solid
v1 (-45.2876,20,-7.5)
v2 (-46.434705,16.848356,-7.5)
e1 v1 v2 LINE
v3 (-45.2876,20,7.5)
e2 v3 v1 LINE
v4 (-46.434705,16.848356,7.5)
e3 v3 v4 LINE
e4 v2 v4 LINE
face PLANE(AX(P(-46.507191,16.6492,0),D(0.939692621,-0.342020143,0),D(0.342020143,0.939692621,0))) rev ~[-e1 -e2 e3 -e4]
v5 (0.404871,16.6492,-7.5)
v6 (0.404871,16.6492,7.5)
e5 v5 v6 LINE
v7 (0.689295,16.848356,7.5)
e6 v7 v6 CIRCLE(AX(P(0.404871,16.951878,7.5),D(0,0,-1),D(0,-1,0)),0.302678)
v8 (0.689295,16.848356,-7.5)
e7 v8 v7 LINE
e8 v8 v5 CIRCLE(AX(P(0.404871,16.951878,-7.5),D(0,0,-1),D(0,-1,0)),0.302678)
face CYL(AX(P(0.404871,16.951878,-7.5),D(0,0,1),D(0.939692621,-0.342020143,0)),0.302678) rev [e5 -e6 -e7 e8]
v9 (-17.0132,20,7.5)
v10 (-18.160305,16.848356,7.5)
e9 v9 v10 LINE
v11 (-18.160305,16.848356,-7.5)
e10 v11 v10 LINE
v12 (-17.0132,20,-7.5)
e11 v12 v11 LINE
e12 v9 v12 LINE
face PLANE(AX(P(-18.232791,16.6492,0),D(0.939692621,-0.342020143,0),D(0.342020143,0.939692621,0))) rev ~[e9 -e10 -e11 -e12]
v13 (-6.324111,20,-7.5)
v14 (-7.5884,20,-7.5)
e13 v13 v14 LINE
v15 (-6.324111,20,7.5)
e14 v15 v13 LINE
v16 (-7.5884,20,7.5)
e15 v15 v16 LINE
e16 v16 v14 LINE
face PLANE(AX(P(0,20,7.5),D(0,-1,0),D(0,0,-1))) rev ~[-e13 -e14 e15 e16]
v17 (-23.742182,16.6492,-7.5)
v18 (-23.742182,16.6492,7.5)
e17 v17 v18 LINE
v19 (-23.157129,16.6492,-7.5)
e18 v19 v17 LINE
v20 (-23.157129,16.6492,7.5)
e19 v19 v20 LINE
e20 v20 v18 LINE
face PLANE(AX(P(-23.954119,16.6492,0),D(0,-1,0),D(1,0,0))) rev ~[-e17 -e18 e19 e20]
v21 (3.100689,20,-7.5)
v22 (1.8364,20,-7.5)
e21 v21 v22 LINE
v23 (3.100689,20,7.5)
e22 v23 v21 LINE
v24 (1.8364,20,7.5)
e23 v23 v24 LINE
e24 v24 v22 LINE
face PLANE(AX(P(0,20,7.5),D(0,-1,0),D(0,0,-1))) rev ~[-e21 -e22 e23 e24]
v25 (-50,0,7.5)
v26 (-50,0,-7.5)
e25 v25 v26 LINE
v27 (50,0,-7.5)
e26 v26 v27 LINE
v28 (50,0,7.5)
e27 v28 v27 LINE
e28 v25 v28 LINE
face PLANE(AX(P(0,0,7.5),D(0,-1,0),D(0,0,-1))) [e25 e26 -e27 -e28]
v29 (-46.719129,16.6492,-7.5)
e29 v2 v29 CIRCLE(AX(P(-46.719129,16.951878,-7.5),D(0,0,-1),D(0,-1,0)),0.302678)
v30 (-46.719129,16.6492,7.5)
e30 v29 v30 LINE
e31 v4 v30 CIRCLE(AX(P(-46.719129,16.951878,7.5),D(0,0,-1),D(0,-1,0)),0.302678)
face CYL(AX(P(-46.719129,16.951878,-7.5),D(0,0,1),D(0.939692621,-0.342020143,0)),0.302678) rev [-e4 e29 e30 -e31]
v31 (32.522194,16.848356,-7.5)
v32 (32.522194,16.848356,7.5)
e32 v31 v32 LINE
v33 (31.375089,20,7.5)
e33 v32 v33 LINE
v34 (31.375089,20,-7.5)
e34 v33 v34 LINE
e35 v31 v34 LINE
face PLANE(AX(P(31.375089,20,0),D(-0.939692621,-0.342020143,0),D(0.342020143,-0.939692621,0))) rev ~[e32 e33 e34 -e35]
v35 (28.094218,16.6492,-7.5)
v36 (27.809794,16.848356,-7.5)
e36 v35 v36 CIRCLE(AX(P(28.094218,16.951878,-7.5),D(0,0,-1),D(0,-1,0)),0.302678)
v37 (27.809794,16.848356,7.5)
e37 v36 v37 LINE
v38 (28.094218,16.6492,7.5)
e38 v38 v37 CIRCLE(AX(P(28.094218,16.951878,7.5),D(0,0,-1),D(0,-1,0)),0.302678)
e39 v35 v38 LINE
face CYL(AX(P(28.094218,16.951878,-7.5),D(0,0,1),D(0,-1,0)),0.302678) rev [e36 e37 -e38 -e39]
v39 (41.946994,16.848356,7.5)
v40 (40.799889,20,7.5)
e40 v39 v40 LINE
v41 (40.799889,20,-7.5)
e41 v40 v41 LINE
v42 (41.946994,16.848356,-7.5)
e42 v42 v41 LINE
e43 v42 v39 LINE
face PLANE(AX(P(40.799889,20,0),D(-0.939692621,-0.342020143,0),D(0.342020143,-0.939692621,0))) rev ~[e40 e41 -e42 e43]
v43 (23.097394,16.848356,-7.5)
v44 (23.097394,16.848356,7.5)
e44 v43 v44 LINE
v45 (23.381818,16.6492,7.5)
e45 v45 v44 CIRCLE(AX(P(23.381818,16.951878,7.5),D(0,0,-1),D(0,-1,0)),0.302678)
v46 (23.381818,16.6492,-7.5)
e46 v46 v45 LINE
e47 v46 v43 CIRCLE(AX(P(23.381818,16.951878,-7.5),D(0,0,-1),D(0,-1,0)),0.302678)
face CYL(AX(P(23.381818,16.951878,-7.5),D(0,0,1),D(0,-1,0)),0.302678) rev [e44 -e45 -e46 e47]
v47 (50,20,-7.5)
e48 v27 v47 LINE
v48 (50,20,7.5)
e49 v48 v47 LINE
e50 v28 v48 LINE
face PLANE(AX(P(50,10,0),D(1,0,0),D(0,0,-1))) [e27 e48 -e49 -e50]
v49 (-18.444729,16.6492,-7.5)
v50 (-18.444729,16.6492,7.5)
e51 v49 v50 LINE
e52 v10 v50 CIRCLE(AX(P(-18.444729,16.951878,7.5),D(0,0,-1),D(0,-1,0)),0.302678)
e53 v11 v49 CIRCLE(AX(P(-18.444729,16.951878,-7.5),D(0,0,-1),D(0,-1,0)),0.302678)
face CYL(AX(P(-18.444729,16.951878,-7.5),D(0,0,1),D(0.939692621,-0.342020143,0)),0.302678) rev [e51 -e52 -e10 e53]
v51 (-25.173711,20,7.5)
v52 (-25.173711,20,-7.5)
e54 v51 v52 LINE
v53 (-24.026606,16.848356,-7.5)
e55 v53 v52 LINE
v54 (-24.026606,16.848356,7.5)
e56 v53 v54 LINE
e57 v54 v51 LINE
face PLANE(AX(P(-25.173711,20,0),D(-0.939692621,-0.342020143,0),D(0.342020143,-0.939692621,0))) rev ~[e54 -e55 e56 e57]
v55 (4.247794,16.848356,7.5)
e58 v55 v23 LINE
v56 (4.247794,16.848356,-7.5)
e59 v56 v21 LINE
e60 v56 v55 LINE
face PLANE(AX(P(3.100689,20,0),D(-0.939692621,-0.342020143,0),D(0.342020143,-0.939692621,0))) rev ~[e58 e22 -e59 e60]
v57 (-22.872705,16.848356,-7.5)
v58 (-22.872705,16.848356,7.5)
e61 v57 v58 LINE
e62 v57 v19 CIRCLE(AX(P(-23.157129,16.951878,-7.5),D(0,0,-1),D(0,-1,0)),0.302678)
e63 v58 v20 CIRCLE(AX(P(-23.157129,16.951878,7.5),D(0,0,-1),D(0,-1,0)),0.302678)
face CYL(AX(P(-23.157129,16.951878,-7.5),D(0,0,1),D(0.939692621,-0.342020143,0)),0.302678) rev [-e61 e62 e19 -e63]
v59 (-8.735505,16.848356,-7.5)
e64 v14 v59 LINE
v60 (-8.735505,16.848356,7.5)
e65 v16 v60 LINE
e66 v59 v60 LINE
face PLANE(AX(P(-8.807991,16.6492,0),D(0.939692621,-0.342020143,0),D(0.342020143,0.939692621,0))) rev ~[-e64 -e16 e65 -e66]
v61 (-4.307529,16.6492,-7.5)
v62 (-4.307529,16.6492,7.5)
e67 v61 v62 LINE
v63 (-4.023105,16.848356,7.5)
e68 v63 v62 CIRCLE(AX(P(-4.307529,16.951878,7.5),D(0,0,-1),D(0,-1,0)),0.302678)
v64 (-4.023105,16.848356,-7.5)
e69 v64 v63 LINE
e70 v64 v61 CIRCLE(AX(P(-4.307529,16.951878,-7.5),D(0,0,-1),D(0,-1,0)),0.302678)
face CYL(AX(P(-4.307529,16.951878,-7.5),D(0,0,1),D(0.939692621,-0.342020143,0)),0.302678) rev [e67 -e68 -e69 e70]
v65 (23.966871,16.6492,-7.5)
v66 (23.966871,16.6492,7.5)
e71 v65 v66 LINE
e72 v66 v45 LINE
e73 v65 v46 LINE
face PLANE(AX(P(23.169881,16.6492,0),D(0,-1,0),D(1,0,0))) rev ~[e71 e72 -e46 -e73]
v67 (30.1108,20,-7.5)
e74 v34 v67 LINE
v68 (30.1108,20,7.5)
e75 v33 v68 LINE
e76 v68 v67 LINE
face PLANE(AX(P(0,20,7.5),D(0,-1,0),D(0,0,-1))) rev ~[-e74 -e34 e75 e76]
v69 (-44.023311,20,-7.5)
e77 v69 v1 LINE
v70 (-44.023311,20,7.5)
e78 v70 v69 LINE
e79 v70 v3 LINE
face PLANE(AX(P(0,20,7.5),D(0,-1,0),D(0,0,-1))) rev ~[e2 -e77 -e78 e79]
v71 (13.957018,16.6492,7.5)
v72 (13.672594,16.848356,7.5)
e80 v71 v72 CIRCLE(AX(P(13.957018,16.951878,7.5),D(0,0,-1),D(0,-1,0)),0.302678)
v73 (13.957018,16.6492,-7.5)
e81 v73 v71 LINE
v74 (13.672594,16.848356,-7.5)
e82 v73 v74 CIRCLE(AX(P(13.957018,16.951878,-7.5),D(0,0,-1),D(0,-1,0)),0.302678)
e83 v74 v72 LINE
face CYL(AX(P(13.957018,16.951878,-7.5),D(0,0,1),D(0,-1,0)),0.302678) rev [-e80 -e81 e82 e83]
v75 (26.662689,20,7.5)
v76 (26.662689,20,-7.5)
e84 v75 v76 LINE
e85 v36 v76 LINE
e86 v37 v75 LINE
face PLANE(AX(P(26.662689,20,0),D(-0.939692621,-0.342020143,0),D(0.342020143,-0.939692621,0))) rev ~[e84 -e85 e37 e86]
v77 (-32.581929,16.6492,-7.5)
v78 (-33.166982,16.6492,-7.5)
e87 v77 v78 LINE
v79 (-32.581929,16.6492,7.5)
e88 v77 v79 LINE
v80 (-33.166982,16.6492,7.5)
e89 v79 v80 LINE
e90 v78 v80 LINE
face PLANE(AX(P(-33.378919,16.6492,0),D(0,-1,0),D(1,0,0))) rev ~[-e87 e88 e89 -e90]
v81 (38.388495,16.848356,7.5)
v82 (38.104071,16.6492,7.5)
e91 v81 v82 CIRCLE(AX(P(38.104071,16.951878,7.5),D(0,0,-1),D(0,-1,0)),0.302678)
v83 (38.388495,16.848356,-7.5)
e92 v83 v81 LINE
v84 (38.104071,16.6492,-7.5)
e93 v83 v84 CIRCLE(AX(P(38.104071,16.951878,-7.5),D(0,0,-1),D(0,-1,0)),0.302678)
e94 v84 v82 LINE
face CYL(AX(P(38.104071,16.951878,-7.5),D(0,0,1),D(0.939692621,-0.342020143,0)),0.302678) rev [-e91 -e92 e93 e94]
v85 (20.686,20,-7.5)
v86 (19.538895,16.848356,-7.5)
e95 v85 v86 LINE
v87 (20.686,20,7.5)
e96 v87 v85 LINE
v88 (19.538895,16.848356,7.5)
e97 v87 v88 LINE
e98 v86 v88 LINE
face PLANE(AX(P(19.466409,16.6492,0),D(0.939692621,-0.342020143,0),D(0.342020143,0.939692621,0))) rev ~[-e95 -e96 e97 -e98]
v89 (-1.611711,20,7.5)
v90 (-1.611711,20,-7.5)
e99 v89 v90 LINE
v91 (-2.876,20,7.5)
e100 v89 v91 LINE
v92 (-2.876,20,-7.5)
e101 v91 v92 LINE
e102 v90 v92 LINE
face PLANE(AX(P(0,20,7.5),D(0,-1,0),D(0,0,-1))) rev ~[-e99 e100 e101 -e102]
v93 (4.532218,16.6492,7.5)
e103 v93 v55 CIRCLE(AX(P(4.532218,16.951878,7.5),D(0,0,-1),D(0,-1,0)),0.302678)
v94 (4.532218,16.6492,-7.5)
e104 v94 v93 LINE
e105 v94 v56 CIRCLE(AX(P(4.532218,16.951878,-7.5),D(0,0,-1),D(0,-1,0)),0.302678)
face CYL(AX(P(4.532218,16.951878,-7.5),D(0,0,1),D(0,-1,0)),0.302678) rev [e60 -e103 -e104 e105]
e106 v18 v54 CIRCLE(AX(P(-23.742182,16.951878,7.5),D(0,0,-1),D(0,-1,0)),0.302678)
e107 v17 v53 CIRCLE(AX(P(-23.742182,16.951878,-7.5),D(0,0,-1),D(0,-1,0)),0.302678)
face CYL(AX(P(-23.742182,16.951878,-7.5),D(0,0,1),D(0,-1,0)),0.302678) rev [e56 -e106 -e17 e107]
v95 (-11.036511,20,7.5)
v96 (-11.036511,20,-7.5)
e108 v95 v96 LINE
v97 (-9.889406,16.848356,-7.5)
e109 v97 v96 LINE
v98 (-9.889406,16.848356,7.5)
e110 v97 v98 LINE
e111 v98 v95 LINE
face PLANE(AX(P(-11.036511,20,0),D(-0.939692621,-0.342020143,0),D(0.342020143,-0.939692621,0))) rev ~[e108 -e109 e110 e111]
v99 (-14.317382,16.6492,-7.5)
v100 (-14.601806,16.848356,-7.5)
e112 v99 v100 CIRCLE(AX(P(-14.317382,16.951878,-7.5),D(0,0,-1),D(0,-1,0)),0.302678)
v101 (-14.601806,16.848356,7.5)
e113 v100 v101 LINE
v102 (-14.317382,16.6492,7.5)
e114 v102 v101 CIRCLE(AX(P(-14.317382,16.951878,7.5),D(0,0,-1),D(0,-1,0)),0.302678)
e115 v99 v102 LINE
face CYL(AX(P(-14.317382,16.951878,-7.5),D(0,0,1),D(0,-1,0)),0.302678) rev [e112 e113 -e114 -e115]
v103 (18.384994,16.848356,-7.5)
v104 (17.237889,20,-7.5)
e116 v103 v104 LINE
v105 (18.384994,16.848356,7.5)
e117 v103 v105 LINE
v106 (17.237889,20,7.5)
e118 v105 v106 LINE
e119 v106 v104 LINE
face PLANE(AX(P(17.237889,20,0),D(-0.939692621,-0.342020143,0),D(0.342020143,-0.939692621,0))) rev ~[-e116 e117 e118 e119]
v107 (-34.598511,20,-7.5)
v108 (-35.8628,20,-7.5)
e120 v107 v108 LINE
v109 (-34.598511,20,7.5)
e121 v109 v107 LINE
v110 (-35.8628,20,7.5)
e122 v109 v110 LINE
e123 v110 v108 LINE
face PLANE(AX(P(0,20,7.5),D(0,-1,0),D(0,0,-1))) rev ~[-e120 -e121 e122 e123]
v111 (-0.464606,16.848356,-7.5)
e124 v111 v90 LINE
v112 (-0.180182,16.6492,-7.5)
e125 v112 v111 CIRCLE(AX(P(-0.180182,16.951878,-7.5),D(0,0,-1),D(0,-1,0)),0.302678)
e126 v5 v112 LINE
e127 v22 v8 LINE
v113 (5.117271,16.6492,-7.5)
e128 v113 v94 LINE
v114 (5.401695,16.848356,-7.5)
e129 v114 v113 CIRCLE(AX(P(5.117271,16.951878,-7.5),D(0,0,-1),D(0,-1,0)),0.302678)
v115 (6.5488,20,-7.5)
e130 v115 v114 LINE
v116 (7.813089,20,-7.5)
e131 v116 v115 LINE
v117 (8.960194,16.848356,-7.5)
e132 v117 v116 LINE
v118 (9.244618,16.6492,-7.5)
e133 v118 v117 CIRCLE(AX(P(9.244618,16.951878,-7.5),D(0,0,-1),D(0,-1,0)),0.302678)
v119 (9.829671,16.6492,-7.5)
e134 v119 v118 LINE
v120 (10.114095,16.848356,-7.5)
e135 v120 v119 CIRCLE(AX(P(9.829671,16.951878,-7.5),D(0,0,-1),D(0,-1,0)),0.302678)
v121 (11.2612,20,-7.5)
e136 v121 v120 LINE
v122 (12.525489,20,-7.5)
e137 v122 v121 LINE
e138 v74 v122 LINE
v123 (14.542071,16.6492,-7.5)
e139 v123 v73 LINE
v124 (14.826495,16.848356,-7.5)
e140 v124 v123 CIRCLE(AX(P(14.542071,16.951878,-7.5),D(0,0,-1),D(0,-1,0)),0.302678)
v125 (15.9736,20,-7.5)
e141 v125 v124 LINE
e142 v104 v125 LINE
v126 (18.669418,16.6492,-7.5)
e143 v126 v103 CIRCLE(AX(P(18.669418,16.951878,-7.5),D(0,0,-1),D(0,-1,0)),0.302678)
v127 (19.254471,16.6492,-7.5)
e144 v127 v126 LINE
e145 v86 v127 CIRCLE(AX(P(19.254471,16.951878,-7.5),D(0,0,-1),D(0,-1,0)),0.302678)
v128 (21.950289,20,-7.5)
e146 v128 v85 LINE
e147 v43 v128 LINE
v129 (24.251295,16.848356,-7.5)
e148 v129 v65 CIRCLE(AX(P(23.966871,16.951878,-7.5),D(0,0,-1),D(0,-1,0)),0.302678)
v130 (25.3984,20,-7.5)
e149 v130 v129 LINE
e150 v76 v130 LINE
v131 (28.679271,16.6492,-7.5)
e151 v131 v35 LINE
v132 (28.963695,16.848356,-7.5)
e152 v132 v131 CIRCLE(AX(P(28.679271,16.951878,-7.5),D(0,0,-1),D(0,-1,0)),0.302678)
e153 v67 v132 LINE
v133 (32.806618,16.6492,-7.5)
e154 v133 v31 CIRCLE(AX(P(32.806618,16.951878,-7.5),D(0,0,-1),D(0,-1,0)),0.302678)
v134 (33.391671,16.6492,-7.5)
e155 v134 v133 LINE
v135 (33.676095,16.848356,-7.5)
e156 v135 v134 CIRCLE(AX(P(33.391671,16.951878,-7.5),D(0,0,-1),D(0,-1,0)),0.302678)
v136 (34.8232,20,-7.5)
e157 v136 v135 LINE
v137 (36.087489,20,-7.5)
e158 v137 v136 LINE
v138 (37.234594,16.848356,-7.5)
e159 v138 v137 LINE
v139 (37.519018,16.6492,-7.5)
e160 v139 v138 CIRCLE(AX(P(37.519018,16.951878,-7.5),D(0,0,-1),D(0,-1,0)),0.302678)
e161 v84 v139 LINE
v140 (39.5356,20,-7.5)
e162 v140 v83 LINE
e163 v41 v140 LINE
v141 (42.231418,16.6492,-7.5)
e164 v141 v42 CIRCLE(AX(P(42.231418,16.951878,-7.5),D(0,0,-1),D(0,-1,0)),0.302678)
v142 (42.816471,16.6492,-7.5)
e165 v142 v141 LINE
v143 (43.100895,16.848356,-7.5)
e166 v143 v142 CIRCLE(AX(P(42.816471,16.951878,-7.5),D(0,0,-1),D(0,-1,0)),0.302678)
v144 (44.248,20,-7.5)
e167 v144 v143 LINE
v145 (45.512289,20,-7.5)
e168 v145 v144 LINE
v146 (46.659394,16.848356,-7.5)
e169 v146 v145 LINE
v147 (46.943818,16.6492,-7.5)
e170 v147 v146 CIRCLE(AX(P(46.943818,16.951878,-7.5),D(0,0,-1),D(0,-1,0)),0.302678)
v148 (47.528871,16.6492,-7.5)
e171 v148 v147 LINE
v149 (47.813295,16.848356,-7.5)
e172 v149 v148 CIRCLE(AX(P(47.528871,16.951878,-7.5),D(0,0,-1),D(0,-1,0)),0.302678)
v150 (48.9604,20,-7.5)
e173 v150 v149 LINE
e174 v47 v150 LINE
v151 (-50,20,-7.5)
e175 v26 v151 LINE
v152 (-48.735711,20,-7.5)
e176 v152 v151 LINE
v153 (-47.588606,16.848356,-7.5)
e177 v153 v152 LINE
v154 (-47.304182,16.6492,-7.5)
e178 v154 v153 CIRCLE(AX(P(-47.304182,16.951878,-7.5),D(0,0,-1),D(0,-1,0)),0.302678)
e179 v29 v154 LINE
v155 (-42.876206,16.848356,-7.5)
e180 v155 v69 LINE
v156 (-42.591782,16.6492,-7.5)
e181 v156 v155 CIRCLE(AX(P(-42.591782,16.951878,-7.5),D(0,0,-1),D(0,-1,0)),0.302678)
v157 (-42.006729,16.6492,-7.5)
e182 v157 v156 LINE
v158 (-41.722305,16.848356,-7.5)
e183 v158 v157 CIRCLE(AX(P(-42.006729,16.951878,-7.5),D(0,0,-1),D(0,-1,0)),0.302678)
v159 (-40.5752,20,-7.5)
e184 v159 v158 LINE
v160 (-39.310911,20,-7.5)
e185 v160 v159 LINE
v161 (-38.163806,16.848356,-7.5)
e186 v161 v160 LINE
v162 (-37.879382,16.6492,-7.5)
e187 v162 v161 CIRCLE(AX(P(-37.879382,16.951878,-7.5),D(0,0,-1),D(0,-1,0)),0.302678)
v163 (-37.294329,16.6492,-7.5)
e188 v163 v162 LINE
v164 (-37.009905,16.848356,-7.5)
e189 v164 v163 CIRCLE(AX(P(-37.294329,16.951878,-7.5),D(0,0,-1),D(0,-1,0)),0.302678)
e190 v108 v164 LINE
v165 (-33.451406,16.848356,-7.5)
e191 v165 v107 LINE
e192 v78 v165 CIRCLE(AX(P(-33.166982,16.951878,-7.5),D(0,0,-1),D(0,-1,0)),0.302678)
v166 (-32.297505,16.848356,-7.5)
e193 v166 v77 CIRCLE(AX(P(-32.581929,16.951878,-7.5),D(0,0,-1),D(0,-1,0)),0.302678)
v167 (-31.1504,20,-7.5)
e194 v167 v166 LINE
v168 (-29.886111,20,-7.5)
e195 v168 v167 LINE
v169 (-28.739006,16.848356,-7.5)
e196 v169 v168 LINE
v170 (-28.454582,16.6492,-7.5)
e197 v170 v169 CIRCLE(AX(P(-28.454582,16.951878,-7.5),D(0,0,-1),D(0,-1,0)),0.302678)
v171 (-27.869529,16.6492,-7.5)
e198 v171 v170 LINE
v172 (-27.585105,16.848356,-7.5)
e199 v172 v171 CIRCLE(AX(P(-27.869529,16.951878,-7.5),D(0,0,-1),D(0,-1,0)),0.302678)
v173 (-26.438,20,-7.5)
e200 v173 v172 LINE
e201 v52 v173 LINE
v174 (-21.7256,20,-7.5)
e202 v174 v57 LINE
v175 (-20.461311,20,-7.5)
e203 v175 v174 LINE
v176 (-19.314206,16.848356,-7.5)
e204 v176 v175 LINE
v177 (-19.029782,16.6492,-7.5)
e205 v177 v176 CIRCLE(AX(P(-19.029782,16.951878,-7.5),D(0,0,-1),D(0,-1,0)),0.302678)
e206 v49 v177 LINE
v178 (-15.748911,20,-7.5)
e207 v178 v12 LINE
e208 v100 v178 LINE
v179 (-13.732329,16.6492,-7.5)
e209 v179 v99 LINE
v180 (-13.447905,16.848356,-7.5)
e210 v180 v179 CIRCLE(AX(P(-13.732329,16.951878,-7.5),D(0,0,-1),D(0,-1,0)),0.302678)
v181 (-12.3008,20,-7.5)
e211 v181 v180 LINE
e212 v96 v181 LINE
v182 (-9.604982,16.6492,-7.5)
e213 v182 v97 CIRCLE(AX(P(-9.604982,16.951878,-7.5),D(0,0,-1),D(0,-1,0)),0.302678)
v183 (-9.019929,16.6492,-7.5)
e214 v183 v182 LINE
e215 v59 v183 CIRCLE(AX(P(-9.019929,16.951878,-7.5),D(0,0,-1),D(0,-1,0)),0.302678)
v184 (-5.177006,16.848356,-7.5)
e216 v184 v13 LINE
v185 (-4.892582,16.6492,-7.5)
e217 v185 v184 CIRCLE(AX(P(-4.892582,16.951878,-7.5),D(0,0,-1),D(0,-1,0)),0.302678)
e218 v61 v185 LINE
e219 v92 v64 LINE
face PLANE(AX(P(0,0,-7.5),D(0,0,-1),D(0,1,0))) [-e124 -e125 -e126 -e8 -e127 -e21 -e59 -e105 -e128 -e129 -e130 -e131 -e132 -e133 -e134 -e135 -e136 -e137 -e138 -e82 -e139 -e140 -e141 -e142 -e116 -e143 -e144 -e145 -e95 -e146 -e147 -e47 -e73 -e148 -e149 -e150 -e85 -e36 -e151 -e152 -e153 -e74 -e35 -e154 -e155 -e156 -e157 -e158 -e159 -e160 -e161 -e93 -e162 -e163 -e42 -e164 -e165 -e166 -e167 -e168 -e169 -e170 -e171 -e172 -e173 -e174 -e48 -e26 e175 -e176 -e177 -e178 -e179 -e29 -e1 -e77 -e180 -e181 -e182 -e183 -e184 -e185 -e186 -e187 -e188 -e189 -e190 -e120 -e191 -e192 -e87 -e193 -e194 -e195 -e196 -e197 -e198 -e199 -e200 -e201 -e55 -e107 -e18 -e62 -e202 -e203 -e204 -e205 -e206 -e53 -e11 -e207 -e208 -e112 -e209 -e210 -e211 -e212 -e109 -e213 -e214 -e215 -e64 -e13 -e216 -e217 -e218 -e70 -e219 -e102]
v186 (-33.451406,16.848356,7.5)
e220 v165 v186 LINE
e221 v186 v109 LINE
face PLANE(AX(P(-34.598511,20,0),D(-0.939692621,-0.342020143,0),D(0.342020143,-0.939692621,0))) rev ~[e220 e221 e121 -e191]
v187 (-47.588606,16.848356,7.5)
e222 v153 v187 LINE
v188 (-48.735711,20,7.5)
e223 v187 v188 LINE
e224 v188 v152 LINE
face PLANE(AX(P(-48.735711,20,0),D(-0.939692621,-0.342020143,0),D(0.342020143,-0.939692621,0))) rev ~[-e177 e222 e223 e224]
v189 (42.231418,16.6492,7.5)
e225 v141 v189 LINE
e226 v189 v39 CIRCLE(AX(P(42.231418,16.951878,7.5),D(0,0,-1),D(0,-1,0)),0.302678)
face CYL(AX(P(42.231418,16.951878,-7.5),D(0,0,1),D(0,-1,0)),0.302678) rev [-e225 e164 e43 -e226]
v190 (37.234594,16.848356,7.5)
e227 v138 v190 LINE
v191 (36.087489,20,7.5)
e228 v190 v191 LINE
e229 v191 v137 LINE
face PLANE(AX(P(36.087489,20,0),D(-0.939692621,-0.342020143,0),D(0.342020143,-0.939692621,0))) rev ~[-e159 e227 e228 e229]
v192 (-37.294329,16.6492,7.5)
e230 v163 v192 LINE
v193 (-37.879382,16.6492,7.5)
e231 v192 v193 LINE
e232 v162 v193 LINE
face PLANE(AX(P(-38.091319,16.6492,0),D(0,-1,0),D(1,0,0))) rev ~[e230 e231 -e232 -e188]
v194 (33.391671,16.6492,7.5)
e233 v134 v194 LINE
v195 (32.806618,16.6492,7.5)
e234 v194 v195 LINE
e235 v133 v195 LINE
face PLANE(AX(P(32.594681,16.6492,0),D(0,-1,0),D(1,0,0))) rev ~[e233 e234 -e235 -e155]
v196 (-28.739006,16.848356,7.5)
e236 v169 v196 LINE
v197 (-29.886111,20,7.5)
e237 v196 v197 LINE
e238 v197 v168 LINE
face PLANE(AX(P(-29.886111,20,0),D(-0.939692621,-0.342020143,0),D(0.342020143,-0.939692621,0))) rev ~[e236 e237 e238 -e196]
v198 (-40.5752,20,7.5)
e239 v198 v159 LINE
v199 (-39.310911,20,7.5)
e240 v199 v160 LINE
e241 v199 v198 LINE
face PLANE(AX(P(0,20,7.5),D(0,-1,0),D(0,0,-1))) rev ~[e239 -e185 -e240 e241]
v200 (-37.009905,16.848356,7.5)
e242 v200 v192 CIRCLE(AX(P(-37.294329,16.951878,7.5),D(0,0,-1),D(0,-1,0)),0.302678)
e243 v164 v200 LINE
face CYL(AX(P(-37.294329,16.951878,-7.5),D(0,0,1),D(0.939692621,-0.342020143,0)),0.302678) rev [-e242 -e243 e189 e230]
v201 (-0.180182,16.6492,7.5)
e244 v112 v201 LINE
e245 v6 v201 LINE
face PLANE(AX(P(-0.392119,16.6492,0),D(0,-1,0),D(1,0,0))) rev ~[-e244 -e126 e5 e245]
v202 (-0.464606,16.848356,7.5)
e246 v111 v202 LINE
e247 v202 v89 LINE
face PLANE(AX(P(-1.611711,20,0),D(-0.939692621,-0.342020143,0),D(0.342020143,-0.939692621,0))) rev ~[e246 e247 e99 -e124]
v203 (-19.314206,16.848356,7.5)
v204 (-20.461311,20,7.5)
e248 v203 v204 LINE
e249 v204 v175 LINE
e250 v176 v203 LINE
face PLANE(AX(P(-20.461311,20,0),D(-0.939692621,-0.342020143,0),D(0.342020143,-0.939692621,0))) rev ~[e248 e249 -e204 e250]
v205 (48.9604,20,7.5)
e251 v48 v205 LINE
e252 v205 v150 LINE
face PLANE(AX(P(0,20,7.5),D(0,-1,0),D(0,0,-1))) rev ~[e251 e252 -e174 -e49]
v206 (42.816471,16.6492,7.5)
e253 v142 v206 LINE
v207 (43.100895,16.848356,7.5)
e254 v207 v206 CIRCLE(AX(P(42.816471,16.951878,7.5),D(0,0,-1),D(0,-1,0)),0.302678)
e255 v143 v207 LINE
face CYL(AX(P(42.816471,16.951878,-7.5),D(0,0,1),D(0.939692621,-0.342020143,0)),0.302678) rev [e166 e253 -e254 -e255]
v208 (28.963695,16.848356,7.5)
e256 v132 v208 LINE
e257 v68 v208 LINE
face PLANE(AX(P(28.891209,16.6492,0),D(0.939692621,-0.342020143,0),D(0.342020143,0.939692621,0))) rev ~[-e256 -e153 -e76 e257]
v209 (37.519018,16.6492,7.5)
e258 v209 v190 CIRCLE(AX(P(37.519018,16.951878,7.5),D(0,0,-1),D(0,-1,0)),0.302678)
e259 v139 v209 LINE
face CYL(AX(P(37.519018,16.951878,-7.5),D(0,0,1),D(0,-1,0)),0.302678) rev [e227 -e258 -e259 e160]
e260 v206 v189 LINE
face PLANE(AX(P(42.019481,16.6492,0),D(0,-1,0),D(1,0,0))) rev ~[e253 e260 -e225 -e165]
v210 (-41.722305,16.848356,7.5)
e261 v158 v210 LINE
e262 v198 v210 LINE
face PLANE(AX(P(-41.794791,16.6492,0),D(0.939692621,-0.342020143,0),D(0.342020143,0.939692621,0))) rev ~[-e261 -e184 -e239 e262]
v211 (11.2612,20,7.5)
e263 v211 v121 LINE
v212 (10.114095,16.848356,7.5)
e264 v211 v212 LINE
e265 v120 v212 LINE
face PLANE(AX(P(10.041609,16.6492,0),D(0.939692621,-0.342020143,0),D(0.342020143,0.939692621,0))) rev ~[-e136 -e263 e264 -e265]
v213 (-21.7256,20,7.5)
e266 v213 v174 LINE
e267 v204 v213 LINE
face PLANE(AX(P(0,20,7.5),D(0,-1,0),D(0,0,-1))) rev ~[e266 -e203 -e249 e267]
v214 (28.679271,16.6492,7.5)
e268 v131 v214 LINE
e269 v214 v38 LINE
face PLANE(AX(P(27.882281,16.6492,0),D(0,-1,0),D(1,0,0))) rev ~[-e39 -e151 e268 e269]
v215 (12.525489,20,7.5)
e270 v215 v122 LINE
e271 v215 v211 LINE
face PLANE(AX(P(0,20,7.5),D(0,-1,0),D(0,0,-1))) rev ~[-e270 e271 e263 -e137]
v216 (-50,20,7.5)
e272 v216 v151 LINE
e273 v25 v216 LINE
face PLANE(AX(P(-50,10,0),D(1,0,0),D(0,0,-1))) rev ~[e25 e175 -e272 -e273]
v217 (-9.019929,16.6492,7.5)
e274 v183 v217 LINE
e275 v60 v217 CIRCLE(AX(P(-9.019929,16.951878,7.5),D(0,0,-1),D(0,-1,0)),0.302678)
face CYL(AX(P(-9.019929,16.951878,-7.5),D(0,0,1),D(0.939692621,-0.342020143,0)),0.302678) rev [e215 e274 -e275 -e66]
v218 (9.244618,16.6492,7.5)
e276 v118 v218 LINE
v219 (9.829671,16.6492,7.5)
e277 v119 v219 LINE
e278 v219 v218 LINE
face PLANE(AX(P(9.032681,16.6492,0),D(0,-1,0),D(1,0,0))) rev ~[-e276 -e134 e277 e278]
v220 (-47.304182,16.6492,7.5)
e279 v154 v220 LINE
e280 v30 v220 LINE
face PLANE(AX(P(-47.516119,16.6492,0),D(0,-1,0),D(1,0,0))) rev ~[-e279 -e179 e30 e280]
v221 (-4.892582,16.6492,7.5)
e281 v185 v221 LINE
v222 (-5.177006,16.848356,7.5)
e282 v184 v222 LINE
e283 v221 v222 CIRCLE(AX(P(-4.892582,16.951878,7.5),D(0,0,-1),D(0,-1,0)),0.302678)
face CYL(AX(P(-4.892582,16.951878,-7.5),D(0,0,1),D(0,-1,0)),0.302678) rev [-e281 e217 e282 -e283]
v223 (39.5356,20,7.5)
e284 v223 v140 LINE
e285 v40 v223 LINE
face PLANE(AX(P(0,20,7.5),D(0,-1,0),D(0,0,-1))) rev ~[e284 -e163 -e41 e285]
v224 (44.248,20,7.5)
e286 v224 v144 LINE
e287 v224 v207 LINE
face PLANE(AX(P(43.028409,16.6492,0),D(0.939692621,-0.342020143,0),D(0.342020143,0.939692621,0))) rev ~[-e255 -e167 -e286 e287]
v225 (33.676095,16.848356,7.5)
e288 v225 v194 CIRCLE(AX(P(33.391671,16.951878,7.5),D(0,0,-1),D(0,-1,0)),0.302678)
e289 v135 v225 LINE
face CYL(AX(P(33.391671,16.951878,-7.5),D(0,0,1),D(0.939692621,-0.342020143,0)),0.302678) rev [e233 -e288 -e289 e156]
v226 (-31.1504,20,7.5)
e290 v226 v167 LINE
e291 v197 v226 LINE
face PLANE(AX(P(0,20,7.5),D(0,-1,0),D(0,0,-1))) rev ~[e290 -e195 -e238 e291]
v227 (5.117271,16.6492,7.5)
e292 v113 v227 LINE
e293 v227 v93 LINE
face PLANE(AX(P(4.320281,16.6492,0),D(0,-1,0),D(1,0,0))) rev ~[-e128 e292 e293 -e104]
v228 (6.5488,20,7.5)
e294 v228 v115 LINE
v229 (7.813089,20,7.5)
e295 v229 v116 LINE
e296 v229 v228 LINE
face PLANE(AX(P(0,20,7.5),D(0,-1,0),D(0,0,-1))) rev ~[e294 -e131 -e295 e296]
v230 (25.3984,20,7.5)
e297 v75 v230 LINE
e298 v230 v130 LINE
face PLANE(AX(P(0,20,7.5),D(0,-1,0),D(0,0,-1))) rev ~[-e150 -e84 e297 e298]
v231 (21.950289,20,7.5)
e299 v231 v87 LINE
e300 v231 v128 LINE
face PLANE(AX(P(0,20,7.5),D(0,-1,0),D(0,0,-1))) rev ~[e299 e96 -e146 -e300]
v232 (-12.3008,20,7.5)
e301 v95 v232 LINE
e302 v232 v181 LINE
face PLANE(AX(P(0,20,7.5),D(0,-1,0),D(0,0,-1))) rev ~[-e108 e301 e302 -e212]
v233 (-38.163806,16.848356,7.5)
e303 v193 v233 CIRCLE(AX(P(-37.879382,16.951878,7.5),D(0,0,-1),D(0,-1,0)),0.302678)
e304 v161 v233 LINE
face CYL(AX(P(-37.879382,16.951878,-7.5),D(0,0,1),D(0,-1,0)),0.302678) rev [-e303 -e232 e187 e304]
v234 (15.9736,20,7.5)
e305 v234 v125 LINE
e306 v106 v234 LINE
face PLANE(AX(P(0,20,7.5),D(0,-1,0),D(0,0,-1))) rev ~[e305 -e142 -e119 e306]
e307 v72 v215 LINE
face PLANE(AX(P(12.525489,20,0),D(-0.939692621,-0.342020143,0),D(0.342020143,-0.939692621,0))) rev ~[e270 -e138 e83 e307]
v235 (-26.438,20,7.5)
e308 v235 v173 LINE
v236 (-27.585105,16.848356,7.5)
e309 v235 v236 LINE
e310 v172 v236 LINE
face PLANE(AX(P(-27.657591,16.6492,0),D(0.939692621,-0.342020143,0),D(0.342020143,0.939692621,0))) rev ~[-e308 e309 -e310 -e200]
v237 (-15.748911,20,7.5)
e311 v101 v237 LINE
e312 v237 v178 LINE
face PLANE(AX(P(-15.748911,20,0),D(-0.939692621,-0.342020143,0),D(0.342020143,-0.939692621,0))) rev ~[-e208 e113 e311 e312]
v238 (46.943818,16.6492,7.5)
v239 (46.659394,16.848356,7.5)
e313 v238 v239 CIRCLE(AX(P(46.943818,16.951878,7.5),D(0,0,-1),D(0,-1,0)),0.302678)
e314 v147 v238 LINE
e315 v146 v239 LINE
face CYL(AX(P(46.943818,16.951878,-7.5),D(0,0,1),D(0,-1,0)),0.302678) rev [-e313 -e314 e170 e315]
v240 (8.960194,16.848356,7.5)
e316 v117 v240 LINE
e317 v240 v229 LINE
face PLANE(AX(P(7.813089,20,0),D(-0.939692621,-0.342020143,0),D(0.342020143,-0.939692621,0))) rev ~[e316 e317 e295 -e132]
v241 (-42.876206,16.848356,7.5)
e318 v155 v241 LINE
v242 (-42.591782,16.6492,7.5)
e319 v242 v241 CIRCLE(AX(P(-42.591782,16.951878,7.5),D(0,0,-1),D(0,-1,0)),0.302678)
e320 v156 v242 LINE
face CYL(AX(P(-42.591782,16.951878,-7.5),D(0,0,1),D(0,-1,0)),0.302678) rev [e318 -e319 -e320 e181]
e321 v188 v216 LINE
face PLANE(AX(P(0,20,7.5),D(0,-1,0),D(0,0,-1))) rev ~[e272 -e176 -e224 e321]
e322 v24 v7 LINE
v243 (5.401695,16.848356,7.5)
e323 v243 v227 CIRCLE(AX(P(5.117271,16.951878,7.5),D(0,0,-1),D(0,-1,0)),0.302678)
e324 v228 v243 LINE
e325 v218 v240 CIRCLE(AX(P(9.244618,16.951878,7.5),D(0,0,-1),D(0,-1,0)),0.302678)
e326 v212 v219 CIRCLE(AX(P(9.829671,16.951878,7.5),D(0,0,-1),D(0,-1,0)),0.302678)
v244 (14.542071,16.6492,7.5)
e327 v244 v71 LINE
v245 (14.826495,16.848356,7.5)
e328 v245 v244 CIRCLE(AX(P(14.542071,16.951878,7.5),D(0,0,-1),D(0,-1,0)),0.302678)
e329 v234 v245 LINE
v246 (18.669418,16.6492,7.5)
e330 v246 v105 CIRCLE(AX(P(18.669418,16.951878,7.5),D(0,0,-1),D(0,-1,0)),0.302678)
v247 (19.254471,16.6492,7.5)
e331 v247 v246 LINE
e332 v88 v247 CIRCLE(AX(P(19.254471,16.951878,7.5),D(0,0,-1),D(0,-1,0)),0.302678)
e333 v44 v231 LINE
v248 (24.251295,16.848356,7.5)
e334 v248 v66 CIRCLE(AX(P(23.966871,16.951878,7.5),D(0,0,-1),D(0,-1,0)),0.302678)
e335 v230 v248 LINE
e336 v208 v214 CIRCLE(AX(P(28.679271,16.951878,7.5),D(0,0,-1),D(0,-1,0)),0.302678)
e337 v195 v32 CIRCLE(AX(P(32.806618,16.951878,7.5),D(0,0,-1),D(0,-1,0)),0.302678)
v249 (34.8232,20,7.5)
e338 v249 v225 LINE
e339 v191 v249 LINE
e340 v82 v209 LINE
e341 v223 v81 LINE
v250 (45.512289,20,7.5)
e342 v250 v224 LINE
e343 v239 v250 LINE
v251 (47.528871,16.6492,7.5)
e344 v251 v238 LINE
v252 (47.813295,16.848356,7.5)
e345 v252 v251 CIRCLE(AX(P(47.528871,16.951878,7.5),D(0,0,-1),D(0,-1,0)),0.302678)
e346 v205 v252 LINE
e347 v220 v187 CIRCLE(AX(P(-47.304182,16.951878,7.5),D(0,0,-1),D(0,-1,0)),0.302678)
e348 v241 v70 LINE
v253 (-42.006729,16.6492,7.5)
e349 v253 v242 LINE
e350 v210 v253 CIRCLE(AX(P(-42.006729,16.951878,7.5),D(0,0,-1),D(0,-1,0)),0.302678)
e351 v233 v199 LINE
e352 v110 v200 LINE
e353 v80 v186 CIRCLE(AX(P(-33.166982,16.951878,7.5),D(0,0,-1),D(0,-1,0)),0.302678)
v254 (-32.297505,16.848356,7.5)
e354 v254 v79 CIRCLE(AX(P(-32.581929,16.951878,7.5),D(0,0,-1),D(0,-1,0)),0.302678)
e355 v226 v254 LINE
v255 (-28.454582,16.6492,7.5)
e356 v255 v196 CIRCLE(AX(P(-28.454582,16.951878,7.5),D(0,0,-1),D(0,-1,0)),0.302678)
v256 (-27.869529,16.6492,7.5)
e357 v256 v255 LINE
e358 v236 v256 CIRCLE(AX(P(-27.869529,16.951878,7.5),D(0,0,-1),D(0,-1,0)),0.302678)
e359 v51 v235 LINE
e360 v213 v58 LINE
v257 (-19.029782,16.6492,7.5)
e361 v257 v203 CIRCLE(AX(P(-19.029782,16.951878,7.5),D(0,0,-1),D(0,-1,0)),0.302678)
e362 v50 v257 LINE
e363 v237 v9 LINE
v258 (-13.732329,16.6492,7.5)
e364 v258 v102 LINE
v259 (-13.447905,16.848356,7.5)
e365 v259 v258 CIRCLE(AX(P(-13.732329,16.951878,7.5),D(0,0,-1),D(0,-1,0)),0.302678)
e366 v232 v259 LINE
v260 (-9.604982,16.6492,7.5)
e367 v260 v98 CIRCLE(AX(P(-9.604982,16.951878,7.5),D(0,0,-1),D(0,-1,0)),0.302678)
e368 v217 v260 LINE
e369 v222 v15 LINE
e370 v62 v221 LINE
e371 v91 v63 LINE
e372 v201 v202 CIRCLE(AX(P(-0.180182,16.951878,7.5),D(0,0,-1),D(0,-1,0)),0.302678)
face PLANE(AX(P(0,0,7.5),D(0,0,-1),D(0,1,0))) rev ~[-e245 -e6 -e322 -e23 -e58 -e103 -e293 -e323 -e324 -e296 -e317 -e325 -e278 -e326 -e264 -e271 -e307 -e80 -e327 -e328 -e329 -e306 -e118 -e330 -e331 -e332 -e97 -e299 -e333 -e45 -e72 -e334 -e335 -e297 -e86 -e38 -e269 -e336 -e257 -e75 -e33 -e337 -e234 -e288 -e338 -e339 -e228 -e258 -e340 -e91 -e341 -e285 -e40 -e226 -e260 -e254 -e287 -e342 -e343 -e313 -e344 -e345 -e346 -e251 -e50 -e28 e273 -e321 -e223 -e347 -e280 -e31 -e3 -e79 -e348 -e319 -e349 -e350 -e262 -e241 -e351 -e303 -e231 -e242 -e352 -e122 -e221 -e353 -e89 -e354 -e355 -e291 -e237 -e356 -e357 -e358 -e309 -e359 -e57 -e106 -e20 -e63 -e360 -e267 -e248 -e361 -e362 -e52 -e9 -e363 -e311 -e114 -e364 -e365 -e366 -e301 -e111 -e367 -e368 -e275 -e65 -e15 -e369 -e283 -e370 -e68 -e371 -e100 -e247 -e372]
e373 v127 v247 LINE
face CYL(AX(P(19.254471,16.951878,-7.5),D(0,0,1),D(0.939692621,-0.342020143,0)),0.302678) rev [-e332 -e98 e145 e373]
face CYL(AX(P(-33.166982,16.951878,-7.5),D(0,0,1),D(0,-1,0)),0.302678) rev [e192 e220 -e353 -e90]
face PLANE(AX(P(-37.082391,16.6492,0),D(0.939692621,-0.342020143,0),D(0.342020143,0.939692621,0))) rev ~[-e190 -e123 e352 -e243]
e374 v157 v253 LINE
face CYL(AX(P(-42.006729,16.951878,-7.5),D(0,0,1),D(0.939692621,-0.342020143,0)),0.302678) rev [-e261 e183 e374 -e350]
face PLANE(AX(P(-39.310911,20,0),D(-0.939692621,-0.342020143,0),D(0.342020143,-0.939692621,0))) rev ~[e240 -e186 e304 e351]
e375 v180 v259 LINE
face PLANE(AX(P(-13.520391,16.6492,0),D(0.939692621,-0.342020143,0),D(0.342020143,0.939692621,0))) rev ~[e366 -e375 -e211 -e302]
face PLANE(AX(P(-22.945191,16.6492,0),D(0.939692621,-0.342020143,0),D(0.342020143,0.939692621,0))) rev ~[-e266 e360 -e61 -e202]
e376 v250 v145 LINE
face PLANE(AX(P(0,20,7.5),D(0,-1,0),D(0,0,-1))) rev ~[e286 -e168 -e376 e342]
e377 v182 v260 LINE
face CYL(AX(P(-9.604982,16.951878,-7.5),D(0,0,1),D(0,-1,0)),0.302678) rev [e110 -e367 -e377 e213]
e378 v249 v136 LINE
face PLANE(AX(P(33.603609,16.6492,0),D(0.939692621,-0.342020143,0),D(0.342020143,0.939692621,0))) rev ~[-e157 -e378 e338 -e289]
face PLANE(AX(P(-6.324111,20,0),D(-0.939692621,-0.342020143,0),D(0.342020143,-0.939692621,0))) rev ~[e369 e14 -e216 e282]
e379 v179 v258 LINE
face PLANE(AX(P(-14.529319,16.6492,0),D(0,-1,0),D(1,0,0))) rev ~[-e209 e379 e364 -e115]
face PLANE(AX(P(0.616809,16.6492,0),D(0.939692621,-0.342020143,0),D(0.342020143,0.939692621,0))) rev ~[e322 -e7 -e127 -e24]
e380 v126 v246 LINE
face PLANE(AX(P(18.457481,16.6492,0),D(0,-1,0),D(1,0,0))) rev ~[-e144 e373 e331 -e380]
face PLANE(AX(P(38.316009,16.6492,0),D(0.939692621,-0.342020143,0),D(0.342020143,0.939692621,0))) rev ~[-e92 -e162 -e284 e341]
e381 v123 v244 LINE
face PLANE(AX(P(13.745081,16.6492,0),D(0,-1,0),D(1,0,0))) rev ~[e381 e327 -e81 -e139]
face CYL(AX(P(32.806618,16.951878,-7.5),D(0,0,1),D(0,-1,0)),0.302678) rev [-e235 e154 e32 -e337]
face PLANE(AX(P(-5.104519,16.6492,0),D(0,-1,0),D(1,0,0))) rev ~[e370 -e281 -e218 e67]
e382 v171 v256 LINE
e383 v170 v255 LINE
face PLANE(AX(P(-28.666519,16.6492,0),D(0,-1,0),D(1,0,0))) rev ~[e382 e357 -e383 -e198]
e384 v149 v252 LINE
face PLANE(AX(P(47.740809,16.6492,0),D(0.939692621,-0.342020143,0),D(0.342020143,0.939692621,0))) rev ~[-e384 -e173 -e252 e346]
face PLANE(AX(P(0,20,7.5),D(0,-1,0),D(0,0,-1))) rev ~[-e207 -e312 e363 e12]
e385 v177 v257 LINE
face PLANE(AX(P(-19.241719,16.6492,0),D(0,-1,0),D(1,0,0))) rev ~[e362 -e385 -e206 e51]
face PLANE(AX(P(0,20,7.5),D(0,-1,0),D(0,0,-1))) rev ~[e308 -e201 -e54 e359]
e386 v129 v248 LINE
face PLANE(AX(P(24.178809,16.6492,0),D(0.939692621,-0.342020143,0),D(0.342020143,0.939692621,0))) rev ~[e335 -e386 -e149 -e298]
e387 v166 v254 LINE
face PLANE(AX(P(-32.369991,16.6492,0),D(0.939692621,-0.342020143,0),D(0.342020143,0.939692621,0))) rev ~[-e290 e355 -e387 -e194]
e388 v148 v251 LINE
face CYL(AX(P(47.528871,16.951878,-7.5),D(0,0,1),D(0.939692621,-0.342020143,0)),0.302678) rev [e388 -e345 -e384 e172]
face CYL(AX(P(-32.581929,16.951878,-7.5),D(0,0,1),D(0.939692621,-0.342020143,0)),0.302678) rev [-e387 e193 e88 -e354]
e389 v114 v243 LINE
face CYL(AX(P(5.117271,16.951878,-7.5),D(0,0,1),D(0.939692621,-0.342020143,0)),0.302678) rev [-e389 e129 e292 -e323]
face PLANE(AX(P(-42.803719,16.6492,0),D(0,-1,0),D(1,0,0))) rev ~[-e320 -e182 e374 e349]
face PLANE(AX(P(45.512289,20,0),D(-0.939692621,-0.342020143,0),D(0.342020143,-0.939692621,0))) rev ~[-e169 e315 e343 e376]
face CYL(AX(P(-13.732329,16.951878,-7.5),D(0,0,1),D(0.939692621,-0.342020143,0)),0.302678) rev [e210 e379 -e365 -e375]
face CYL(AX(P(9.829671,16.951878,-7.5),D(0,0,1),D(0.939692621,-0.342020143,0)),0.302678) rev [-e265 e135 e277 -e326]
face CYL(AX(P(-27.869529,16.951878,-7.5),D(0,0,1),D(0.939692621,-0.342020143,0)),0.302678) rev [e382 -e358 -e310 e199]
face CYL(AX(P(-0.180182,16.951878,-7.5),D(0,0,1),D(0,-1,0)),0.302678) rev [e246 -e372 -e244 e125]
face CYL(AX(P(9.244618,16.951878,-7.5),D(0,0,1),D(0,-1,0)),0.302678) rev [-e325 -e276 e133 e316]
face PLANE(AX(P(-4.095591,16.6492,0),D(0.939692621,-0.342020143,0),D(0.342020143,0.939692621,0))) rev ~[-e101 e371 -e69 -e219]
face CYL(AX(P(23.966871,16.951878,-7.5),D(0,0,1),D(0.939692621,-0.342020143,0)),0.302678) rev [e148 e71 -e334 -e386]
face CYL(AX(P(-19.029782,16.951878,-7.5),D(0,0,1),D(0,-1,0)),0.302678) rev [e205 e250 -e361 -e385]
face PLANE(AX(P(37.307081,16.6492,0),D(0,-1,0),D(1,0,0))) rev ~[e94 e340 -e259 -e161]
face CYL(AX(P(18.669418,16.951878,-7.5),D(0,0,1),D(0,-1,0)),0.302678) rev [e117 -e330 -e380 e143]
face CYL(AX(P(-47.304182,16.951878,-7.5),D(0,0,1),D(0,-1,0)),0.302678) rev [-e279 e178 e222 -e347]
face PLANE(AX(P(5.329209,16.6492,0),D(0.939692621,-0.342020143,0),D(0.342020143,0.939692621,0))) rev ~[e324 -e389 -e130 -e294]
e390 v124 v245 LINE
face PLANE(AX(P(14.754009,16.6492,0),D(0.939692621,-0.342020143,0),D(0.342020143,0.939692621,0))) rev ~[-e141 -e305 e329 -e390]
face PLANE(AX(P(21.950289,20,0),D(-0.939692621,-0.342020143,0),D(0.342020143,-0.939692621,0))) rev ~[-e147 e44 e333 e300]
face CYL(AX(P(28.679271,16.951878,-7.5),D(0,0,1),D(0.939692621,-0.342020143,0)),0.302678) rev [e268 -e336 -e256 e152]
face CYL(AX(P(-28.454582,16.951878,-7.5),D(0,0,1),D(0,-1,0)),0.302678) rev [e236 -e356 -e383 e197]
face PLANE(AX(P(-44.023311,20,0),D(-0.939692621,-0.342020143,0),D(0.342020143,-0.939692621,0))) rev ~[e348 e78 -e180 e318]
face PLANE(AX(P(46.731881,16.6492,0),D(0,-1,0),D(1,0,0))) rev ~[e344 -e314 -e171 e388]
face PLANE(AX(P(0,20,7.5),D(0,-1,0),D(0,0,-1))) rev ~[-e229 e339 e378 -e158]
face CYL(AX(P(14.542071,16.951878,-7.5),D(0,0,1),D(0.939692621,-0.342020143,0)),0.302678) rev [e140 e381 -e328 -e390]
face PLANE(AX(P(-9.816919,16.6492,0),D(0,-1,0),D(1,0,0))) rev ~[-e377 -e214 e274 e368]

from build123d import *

# Parameters (mm, degrees)
SKETCH2_W                = 15
SKETCH2_H                = 20
BOSS_EXTRUDE1_DEPTH      = 50
BOSS_EXTRUDE1_DEPTH_BACK = 50
CUT_EXTRUDE1_DEPTH       = 8.5
FILLET1_R                = 0.302678334
LPATTERN1_COUNT          = 21
LPATTERN1_PITCH          = 4.7124
FILLET1_OF_LPATTERN1_R   = 0.302678334


with BuildPart() as part:
    # Sketch2 → Boss-Extrude1 (new body, two sides)
    with BuildSketch(Plane(origin=(0, 0, 0), x_dir=(0, 0, -1), z_dir=(1, 0, 0))) as boss_extrude1_sk:
        with Locations((0, 10)):
            Rectangle(SKETCH2_W, SKETCH2_H)
    extrude(amount=BOSS_EXTRUDE1_DEPTH)
    extrude(boss_extrude1_sk.sketch, amount=-BOSS_EXTRUDE1_DEPTH_BACK)

    # Sketch3 → Cut-Extrude1 (cut, symmetric)
    with BuildSketch(Plane.XY):
        Polygon((-48.735710703, 20), (-47.516119242, 16.6492), (-46.507191461, 16.6492), (-45.2876, 20), align=None)
    cut_extrude1 = extrude(amount=CUT_EXTRUDE1_DEPTH, both=True, mode=Mode.SUBTRACT)

    # Fillet1
    fillet1_edges = [part.edges().sort_by_distance(p)[0] for p in [
        (-46.507191461, 16.6492, 0),
        (-47.516119242, 16.6492, 0),
    ]]
    fillet(fillet1_edges, radius=FILLET1_R)

    # LPattern1: Cut-Extrude1 ×21
    with Locations(*[(i * LPATTERN1_PITCH, 0, 0) for i in range(1, LPATTERN1_COUNT)]):
        add(cut_extrude1, mode=Mode.SUBTRACT)

    # Fillet1 of LPattern1
    fillet1_of_lpattern1_edges = [part.edges().sort_by_distance(p)[0] for p in [
        (-41.794791461, 16.6492, 0),
        (-42.803719242, 16.6492, 0),
        (-37.082391461, 16.6492, 0),
        (-38.091319242, 16.6492, 0),
        (-32.369991461, 16.6492, 0),
        (-33.378919242, 16.6492, 0),
        (-27.657591461, 16.6492, 0),
        (-28.666519242, 16.6492, 0),
        (-22.945191461, 16.6492, 0),
        (-23.954119242, 16.6492, 0),
        (-18.232791461, 16.6492, 0),
        (-19.241719242, 16.6492, 0),
        (-13.520391461, 16.6492, 0),
        (-14.529319242, 16.6492, 0),
        (-8.807991461, 16.6492, 0),
        (-9.816919242, 16.6492, 0),
        (-4.095591461, 16.6492, 0),
        (-5.104519242, 16.6492, 0),
        (0.616808539, 16.6492, 0),
        (-0.392119242, 16.6492, 0),
        (5.329208539, 16.6492, 0),
        (4.320280758, 16.6492, 0),
        (10.041608539, 16.6492, 0),
        (9.032680758, 16.6492, 0),
        (14.754008539, 16.6492, 0),
        (13.745080758, 16.6492, 0),
        (19.466408539, 16.6492, 0),
        (18.457480758, 16.6492, 0),
        (24.178808539, 16.6492, 0),
        (23.169880758, 16.6492, 0),
        (28.891208539, 16.6492, 0),
        (27.882280758, 16.6492, 0),
        (33.603608539, 16.6492, 0),
        (32.594680758, 16.6492, 0),
        (38.316008539, 16.6492, 0),
        (37.307080758, 16.6492, 0),
        (43.028408539, 16.6492, 0),
        (42.019480758, 16.6492, 0),
        (47.740808539, 16.6492, 0),
        (46.731880758, 16.6492, 0),
    ]]
    fillet(fillet1_of_lpattern1_edges, radius=FILLET1_OF_LPATTERN1_R)


solid = part.part
